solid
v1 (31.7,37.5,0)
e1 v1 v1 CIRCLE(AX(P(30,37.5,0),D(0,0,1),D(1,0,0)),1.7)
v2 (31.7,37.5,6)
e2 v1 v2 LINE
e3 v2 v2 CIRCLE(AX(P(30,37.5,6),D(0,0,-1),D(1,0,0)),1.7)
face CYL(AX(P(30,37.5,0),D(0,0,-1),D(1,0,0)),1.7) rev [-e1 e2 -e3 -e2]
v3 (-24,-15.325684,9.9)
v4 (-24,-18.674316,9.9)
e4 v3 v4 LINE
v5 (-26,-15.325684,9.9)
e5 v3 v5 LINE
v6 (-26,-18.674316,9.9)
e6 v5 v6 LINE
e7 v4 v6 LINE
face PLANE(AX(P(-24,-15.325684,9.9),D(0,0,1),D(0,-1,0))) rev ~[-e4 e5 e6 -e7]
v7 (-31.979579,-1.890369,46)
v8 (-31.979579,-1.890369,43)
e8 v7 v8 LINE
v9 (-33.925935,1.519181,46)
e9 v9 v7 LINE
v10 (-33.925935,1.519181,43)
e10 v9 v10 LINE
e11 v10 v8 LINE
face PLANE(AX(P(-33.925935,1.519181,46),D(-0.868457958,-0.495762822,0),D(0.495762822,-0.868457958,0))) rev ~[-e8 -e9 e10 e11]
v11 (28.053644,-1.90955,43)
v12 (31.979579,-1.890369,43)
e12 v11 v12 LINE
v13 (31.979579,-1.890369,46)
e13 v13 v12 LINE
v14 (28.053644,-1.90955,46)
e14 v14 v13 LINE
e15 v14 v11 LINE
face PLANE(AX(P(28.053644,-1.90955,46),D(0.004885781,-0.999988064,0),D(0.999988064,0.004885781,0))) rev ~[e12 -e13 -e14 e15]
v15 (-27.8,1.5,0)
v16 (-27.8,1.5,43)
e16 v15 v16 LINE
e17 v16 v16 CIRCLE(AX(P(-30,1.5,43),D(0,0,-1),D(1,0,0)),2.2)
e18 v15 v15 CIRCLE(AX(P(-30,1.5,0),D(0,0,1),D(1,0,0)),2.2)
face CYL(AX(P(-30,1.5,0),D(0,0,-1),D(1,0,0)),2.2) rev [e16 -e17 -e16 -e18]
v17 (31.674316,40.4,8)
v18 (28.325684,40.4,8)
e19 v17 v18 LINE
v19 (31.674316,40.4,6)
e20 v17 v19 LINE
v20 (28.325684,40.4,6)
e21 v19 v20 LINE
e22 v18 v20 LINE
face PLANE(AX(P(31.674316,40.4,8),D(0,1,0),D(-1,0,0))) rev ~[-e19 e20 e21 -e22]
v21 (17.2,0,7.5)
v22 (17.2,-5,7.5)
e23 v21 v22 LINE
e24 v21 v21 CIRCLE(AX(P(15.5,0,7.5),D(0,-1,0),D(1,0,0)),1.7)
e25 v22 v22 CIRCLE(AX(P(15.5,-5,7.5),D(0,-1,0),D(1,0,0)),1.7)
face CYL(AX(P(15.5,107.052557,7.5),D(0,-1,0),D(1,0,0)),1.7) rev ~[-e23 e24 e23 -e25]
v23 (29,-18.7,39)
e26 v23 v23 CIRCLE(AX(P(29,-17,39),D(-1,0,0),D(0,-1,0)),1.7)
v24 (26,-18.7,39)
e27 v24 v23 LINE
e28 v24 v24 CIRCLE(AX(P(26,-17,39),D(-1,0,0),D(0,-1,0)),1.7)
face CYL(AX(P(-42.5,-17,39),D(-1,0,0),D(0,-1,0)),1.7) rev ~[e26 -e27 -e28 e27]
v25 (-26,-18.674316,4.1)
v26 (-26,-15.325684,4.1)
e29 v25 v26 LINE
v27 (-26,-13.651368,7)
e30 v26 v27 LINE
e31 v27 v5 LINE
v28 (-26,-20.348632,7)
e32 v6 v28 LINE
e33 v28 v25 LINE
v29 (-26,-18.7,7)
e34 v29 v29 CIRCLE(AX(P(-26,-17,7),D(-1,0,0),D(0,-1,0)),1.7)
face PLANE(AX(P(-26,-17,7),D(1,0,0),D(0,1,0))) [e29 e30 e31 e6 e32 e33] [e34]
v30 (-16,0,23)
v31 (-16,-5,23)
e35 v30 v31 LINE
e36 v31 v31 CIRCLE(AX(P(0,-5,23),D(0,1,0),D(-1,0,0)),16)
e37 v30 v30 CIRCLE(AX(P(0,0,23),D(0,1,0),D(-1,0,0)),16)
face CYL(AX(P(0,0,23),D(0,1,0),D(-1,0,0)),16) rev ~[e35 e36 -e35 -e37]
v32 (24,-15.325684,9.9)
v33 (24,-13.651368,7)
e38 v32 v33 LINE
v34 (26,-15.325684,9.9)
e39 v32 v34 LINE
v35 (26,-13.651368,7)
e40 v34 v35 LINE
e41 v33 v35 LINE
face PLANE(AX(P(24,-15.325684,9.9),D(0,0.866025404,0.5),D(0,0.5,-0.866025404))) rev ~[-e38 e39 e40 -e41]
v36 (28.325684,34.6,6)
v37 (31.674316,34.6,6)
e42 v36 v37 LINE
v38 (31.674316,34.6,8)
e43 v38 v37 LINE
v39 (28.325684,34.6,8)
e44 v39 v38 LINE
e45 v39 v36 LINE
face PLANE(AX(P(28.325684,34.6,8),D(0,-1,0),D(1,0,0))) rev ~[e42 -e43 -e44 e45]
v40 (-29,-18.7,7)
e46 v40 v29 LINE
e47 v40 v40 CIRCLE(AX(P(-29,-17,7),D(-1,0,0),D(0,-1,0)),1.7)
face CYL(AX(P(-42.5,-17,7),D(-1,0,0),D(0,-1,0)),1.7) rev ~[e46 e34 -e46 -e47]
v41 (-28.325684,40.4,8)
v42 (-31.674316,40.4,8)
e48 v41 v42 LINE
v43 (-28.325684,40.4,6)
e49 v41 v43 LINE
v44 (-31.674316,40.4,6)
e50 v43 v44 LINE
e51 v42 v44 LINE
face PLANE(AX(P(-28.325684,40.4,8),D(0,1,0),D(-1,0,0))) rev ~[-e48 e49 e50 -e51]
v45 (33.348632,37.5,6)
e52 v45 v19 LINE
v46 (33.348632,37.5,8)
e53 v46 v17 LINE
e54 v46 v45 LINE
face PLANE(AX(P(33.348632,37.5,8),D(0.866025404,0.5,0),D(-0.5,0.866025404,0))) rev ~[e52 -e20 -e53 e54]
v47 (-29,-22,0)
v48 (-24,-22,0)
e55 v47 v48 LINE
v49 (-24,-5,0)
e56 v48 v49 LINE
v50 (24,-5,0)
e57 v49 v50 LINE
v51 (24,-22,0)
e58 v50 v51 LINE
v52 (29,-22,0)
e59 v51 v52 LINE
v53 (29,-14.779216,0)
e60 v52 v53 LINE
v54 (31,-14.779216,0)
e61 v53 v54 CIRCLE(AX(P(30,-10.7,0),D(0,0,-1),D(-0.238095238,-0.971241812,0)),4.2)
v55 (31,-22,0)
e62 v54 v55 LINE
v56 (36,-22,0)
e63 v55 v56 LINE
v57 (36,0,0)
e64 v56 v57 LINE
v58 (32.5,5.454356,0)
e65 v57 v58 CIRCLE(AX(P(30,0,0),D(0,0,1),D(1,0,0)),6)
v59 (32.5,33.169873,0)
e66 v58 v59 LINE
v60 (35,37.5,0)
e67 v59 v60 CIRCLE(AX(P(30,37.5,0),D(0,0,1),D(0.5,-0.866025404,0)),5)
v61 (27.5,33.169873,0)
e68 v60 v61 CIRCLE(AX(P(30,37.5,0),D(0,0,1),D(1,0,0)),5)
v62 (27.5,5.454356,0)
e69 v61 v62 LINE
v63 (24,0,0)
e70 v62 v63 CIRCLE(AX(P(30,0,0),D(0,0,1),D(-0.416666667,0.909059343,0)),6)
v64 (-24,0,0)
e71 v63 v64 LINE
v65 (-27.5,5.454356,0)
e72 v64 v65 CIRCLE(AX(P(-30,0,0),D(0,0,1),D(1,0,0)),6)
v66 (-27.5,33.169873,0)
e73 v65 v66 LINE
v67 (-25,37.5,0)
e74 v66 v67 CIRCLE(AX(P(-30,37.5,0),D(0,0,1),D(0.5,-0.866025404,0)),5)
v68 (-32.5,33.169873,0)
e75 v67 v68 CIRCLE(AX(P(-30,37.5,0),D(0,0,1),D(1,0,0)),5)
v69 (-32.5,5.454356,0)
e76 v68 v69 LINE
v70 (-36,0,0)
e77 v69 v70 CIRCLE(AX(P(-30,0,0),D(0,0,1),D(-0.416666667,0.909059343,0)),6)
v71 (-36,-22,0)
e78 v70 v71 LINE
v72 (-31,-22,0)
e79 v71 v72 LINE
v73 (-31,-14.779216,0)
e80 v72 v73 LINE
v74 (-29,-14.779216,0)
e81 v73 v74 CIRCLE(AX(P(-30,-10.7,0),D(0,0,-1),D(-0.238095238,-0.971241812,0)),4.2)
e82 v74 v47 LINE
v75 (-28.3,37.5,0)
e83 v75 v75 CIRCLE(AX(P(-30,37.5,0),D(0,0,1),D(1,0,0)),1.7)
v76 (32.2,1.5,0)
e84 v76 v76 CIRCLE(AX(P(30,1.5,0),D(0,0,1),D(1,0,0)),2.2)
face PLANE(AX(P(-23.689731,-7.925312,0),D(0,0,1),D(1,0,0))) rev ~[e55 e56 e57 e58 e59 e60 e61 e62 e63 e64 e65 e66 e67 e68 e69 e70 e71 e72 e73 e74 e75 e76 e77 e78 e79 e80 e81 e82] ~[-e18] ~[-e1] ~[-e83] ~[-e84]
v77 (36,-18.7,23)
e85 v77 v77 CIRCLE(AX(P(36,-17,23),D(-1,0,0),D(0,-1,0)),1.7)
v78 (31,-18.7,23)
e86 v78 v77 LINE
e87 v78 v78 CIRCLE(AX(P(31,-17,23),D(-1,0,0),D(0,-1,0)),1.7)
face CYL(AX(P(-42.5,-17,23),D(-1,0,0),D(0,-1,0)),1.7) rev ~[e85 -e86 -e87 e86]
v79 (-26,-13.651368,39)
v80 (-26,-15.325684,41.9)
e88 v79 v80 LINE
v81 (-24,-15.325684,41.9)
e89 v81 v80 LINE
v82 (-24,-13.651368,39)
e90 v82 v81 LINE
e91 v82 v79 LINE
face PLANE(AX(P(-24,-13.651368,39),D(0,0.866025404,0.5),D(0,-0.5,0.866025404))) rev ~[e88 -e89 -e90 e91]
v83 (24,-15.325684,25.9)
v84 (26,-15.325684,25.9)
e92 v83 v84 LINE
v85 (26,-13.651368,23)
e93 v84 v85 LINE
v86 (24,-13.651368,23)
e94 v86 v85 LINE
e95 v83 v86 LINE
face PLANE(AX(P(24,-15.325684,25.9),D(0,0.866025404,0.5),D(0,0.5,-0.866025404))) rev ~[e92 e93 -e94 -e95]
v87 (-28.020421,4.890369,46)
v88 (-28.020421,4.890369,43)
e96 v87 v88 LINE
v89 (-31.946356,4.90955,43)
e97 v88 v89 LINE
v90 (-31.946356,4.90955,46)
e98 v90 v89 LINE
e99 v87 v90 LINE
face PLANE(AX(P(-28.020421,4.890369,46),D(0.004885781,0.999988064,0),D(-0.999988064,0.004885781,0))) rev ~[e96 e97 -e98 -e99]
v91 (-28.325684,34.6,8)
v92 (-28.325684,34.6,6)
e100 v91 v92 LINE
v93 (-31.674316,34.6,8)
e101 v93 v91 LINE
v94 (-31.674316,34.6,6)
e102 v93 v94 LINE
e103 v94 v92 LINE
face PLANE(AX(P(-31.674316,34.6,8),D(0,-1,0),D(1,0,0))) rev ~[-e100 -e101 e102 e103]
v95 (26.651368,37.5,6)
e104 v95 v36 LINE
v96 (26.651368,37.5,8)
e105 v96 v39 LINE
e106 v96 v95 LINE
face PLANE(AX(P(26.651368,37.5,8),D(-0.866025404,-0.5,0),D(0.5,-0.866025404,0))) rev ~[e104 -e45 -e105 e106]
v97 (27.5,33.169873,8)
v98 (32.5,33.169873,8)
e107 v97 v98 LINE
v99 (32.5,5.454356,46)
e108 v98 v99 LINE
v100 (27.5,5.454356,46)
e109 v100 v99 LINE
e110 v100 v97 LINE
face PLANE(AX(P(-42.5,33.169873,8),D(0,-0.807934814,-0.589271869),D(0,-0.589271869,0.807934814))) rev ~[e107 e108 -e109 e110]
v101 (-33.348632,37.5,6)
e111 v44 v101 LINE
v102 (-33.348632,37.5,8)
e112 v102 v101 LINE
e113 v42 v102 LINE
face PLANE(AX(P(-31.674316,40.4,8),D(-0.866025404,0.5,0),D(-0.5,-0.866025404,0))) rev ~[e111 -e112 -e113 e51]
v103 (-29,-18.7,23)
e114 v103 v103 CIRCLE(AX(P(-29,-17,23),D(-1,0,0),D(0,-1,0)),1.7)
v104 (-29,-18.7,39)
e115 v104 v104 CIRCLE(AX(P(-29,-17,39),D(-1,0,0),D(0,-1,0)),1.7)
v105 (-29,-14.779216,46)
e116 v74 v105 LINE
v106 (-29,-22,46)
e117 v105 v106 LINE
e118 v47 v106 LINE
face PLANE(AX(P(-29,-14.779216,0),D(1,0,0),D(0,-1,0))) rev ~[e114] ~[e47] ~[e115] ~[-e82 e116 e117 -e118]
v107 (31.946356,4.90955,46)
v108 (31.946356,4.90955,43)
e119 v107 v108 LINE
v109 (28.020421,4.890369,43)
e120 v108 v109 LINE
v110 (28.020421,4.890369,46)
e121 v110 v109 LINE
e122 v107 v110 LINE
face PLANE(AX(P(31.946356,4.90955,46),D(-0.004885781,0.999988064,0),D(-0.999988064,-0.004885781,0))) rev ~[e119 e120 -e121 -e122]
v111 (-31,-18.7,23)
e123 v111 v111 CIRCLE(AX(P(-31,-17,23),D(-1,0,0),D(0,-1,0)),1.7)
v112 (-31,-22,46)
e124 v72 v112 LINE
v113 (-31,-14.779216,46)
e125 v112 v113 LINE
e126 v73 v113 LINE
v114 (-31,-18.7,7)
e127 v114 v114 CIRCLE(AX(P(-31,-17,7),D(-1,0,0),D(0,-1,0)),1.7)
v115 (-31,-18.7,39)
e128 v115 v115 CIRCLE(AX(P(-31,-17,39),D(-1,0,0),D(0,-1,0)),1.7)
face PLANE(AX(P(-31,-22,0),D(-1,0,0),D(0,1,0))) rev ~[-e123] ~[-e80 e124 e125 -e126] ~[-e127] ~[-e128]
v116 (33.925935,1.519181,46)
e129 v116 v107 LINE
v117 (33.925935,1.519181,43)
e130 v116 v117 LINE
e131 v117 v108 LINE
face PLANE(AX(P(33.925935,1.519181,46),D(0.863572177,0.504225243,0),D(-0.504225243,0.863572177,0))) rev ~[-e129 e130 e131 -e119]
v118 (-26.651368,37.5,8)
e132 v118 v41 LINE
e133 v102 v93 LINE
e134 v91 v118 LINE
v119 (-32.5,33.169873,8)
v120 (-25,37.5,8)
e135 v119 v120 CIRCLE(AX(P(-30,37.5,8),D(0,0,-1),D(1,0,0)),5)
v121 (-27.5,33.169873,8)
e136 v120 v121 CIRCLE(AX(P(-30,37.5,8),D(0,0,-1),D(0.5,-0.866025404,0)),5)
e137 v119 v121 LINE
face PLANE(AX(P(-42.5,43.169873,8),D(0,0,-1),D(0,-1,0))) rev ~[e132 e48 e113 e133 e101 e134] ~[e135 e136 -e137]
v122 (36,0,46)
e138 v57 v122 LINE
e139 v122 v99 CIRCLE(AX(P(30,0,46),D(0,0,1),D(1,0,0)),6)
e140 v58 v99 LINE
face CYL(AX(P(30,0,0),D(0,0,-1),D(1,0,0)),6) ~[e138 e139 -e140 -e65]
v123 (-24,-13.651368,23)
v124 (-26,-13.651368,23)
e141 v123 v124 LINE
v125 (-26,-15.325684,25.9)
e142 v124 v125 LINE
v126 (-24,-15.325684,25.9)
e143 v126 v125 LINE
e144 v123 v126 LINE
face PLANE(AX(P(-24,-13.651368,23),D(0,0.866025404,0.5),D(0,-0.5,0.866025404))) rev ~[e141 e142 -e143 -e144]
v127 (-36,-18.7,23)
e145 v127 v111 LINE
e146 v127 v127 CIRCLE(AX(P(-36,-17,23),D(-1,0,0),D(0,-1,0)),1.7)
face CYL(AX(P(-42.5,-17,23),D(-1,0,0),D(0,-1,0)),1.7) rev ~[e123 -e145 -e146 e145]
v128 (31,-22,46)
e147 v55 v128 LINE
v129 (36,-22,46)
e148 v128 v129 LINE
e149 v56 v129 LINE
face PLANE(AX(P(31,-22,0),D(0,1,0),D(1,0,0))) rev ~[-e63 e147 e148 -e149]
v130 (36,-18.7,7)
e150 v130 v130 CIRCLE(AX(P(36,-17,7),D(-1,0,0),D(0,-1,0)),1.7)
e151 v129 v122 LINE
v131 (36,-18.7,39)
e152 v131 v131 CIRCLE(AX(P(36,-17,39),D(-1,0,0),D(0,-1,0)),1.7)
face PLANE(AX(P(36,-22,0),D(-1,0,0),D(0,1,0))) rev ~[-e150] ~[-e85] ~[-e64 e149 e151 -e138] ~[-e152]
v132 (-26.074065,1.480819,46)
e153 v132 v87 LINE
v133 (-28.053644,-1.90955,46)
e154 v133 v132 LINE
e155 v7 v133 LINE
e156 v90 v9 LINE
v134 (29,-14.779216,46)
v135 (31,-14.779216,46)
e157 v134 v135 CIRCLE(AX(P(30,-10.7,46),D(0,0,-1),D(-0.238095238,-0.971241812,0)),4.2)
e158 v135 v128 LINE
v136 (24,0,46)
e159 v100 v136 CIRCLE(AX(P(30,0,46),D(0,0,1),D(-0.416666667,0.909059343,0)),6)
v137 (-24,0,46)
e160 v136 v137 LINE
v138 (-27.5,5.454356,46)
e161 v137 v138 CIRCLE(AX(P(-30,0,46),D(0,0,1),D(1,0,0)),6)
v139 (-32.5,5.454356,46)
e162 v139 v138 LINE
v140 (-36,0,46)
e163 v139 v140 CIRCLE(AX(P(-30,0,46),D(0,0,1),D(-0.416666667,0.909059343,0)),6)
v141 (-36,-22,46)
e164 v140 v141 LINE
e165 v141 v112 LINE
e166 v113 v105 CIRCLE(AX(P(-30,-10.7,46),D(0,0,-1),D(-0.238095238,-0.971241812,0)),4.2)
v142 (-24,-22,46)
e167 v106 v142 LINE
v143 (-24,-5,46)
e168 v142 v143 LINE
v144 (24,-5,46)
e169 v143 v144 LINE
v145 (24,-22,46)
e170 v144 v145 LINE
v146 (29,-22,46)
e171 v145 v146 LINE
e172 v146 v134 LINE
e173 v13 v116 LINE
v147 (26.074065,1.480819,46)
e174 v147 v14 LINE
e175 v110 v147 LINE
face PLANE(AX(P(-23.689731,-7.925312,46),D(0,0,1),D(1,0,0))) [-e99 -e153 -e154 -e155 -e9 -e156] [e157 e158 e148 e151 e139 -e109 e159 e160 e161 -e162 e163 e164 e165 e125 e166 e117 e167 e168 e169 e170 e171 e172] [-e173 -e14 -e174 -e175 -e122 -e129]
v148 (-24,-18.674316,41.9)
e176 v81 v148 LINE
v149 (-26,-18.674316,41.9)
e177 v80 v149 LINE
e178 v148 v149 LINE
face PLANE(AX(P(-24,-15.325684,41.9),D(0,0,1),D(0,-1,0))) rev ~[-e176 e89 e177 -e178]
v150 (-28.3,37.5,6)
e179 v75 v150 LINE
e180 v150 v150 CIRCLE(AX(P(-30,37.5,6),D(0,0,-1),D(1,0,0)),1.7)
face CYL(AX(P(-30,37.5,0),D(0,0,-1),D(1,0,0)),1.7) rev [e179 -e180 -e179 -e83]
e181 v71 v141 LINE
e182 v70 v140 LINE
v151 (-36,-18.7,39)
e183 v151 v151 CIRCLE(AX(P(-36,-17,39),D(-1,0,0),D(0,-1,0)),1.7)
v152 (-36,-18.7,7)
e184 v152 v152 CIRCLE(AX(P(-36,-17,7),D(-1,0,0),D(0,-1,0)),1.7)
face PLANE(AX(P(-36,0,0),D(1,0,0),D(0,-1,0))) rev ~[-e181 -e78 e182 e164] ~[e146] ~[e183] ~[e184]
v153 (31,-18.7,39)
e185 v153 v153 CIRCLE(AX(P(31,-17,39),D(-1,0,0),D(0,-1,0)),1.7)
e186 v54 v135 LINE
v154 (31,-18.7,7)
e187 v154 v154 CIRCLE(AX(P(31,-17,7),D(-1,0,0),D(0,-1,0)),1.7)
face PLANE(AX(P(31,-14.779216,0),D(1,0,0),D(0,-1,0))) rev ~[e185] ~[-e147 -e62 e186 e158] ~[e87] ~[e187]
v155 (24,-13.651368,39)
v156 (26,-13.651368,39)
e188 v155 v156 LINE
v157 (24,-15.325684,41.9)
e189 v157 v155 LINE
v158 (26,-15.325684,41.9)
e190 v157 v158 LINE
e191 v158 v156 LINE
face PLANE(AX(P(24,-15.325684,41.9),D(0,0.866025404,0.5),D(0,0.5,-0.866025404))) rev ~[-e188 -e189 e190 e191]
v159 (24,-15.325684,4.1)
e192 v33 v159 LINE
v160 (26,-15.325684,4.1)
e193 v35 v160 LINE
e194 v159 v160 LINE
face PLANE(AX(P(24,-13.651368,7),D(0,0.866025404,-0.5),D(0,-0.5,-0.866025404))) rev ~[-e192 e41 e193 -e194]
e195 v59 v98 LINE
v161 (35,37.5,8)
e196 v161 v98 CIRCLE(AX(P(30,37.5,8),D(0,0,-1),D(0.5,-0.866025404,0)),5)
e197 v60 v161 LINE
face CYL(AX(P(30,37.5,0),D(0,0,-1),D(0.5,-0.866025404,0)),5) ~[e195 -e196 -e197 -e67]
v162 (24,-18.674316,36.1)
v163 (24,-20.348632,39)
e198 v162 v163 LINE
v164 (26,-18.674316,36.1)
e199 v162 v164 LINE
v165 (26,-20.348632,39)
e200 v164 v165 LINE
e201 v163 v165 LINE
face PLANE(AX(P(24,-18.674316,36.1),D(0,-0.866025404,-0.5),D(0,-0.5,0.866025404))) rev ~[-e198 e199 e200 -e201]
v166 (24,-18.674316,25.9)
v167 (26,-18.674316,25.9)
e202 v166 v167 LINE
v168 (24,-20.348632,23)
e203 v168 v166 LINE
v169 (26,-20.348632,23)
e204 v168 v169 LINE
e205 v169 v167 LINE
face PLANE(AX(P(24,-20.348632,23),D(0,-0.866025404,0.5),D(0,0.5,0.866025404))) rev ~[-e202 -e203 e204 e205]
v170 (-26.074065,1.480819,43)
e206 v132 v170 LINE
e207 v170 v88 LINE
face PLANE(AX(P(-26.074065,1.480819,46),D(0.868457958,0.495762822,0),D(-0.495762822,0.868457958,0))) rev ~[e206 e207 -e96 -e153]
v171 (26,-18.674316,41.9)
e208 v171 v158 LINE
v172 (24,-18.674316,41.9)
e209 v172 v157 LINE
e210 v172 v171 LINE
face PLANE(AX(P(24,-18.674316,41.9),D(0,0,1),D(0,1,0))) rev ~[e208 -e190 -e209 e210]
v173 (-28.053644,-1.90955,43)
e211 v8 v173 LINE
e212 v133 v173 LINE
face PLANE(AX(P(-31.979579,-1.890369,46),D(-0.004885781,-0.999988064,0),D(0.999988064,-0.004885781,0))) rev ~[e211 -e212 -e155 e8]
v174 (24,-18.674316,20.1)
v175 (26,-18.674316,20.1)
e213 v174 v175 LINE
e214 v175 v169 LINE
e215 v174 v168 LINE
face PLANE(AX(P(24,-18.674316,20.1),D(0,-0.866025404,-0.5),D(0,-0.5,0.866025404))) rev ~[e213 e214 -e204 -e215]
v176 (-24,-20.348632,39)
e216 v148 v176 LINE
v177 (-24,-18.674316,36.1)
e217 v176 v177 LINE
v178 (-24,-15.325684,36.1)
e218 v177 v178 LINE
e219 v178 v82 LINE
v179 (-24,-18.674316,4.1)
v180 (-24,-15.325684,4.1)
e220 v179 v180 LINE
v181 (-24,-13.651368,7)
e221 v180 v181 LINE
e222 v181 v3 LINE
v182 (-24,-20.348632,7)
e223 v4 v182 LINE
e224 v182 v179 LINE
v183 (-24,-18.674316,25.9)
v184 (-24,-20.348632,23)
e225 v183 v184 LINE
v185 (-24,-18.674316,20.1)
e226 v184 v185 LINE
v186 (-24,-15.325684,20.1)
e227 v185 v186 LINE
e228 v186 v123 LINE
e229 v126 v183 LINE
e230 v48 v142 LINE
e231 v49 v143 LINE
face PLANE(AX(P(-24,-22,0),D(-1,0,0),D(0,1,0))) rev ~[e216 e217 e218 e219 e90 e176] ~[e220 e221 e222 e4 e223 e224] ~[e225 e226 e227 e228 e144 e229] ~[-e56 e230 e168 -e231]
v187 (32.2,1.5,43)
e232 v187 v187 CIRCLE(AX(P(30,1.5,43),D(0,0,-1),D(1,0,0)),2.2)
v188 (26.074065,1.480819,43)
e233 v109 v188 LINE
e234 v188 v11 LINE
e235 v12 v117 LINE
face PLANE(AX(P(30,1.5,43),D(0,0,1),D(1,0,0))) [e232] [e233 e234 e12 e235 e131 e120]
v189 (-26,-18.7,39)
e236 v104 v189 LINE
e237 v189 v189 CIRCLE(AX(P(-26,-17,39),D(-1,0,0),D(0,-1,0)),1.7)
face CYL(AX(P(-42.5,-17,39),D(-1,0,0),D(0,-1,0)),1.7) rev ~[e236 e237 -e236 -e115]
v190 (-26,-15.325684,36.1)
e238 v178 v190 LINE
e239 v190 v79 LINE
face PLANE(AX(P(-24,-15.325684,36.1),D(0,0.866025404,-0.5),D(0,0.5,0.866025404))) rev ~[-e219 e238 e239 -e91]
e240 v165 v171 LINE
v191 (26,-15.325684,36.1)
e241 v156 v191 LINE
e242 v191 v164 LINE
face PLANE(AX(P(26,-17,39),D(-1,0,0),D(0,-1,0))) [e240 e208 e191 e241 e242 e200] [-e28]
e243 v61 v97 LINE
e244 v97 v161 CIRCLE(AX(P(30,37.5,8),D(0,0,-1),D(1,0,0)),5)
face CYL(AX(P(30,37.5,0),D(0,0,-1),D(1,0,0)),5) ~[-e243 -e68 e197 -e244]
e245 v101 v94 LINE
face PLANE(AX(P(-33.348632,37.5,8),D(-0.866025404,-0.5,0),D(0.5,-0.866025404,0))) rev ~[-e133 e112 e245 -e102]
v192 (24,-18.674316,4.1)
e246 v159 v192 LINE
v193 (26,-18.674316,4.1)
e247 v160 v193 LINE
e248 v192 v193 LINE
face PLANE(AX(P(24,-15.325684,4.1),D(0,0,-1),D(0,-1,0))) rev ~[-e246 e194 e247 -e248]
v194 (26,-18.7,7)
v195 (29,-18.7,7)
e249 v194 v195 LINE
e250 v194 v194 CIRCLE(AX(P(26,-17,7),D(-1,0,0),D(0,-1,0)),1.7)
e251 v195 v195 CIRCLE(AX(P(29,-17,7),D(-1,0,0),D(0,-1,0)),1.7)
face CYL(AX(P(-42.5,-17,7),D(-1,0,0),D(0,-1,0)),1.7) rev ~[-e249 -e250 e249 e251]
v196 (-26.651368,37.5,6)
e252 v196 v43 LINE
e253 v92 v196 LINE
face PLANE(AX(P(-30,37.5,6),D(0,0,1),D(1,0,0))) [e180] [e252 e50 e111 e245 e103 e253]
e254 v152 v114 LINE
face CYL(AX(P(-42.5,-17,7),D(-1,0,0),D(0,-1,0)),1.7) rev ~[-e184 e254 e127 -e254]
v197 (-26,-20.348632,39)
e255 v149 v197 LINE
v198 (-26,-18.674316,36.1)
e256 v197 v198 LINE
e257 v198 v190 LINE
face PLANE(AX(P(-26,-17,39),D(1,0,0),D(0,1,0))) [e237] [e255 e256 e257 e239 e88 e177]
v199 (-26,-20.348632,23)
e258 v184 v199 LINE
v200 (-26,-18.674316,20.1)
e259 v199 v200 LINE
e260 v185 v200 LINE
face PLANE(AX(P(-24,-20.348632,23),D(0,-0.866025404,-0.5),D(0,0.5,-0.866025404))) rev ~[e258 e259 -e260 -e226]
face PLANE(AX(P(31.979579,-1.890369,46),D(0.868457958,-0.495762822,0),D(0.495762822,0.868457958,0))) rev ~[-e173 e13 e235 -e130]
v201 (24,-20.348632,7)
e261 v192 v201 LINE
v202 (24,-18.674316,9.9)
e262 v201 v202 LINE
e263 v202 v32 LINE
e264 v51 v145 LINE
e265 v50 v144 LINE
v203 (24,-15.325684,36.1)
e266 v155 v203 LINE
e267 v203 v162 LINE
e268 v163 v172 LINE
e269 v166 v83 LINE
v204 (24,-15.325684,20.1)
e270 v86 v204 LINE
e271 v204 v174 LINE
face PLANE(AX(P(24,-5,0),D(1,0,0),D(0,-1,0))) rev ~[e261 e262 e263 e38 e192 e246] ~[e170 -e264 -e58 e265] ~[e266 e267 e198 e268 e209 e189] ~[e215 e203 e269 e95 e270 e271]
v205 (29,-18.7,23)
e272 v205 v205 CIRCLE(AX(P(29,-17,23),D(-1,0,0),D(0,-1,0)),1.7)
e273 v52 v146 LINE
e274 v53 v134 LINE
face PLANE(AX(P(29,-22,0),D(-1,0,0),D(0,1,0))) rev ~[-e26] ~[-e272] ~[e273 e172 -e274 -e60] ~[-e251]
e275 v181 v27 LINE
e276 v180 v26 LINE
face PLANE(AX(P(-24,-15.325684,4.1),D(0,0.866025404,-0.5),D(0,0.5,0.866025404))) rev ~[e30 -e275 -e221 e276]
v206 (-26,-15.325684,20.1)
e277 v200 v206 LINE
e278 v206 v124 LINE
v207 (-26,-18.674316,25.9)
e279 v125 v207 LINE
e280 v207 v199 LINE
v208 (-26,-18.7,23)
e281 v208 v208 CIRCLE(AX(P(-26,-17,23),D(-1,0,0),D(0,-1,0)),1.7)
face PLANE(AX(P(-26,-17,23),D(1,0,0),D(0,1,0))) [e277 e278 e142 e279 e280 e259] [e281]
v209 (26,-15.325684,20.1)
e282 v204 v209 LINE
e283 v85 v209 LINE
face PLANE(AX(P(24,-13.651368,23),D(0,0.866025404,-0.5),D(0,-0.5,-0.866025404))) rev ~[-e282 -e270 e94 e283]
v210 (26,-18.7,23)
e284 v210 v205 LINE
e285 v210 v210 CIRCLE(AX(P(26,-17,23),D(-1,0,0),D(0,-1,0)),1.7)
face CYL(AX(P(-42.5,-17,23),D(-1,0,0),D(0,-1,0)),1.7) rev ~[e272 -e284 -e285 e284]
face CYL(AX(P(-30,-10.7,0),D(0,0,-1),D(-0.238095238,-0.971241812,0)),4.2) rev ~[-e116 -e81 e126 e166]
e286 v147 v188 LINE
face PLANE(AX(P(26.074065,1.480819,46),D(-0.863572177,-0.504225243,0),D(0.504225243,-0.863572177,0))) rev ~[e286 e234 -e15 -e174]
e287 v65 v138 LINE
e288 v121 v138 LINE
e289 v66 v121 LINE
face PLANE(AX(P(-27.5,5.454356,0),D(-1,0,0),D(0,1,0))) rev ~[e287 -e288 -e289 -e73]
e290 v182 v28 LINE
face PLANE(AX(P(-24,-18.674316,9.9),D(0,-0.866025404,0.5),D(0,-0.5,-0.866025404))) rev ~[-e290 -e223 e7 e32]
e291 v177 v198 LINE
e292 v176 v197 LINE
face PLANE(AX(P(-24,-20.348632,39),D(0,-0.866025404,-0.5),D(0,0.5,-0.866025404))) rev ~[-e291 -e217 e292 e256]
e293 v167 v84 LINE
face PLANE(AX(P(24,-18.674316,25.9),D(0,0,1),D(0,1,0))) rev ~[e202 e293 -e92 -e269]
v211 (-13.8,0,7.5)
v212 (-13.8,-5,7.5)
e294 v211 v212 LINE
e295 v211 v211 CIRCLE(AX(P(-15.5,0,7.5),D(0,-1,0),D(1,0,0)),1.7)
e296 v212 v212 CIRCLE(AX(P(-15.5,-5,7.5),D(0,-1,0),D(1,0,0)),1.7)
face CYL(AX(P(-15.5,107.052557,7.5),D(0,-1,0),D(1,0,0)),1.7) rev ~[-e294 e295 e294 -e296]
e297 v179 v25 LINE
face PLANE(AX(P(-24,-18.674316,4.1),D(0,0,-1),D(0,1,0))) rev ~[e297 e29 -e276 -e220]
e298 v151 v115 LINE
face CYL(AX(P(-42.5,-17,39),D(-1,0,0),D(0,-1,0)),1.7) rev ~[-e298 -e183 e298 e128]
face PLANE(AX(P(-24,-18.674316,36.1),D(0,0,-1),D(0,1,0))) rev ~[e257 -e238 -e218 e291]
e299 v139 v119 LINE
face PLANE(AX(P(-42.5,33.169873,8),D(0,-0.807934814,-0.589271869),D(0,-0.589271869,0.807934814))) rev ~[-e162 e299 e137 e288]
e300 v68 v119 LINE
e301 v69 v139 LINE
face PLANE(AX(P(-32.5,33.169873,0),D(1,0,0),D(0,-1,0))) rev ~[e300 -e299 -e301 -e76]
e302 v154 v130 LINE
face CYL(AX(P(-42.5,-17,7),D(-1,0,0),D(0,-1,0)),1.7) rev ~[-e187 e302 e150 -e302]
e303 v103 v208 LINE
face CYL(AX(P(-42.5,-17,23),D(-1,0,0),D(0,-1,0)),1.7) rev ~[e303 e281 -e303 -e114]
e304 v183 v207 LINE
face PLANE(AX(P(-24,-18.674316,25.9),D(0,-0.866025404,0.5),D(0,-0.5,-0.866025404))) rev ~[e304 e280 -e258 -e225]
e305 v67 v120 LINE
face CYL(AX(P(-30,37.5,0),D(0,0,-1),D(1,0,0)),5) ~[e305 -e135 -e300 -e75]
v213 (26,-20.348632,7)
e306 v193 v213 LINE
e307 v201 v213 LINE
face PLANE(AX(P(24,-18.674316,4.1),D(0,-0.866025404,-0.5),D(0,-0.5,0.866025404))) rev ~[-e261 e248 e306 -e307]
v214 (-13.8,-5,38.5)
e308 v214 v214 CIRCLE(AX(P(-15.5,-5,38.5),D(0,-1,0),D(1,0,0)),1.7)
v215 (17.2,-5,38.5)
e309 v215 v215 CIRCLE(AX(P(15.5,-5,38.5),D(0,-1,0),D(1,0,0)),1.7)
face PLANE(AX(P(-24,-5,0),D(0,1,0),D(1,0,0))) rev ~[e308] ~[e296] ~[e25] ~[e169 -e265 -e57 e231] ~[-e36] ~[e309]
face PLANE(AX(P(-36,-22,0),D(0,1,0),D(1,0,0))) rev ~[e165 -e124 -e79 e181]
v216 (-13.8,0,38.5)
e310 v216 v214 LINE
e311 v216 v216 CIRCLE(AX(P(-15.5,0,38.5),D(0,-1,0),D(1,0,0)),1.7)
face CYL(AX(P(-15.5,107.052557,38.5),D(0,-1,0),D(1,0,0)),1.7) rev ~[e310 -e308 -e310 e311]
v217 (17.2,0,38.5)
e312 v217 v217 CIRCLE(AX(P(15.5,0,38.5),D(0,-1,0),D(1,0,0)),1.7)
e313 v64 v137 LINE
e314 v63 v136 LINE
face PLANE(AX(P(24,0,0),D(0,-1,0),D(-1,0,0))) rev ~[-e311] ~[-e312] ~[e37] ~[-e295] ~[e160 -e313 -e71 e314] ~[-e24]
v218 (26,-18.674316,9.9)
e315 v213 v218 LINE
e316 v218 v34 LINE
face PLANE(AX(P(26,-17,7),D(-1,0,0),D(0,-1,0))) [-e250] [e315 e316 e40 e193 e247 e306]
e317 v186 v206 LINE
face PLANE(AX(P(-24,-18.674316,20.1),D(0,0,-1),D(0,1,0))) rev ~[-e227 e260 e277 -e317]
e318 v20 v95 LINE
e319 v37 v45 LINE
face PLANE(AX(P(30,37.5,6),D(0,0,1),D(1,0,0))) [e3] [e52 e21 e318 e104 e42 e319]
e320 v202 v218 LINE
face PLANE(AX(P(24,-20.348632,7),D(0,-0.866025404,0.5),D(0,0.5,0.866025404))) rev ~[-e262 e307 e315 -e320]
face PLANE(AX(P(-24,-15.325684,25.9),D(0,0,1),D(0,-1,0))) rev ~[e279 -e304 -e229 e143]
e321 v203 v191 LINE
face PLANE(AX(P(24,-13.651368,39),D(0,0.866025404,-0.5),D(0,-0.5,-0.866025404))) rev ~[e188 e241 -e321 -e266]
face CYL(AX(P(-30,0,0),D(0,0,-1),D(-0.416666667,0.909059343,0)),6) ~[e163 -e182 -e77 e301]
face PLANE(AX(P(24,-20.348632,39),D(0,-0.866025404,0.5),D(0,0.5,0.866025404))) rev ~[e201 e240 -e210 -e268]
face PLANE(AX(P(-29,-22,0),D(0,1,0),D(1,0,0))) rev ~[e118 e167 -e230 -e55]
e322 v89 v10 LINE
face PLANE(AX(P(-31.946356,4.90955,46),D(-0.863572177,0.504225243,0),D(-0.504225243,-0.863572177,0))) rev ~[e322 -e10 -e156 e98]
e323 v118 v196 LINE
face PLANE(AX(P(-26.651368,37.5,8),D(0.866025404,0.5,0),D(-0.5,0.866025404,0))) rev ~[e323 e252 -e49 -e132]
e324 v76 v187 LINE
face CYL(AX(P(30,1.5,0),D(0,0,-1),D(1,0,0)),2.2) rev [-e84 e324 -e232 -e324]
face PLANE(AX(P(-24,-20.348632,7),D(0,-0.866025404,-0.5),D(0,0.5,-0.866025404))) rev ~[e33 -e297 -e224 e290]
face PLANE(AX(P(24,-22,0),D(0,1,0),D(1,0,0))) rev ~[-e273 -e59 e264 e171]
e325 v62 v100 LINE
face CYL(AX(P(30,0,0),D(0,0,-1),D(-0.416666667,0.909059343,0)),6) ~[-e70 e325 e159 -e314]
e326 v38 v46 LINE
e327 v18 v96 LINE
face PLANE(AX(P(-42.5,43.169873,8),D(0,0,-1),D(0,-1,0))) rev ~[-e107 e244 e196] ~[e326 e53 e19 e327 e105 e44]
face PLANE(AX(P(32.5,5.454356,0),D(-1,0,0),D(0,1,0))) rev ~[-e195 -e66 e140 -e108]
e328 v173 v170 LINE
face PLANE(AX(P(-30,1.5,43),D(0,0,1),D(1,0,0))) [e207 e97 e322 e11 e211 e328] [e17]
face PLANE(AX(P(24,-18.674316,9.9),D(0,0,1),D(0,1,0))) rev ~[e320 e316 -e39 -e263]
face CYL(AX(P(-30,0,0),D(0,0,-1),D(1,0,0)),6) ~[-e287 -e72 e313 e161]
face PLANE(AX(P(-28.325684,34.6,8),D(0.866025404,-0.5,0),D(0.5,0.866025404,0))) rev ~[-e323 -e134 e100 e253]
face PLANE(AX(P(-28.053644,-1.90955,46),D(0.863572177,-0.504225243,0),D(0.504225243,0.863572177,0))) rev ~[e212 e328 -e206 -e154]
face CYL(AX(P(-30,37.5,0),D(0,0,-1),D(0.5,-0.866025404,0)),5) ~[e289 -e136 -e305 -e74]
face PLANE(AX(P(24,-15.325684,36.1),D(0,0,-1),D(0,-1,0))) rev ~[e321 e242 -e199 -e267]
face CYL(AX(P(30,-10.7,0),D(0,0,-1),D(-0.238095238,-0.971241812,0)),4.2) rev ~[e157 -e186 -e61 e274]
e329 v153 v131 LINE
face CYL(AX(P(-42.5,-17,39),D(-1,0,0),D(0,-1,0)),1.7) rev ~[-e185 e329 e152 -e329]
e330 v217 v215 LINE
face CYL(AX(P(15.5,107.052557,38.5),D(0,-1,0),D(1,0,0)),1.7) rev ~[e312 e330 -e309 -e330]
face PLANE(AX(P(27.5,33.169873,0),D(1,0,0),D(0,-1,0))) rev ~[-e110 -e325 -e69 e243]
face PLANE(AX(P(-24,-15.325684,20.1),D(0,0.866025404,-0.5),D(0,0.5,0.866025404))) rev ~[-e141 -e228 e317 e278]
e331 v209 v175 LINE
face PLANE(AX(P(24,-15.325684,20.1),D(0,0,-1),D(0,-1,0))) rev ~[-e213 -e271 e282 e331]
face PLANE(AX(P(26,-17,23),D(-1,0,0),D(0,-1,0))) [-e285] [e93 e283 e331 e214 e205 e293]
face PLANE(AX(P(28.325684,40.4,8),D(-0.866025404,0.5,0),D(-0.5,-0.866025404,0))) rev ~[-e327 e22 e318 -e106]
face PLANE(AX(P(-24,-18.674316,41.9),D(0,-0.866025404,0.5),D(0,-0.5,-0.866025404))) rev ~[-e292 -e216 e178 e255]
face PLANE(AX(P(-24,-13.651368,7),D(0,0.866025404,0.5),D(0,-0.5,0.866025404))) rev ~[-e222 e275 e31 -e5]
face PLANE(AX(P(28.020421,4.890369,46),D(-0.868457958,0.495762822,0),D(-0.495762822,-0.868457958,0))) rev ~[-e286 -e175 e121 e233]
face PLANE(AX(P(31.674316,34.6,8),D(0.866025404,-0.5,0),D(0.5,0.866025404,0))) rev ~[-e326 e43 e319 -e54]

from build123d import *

# Parameters (mm, degrees)
F0_R      = 2.2
F0_R_2    = 1.7
F1_DEPTH  = 46
F3_DEPTH  = 3
F5_R      = 1.7
F6_DEPTH  = 78.501
F8_DEPTH  = 2
F10_DEPTH = 2
F12_DEPTH = 2
F13_R     = 16
F14_DEPTH = 5
F15_D     = 3.4


with BuildPart() as f1:
    # F0 (on Top) → F1 (new body)
    with BuildSketch(Plane.XY):
        with BuildLine():
            ThreePointArc((-31, -14.7792156109), (-30, -6.5), (-29, -14.7792156109))
            Line((-29, -14.7792156109), (-29, -22))
            Line((-29, -22), (-24, -22))
            Line((-24, -22), (-24, -5))
            Line((-24, -5), (0, -5))
            Line((0, -5), (0, 0))
            Line((0, 0), (-24, 0))
            ThreePointArc((-24, 0), (-24.9502475308, 3.2403703492), (-27.5, 5.4543560573))
            ThreePointArc((-27.5, 5.4543560573), (-30, 6), (-32.5, 5.4543560573))
            ThreePointArc((-32.5, 5.4543560573), (-35.0497524692, 3.2403703492), (-36, 0))
            Line((-36, 0), (-36, -22))
            Line((-36, -22), (-31, -22))
            Line((-31, -22), (-31, -14.7792156109))
        make_face()
        with Locations((-30, 1.5)):
            Circle(F0_R, mode=Mode.SUBTRACT)
        with BuildLine():
            Line((0, 0), (0, -5))
            Line((0, -5), (24, -5))
            Line((24, -5), (24, -22))
            Line((24, -22), (29, -22))
            Line((29, -22), (29, -14.7792156109))
            ThreePointArc((29, -14.7792156109), (30, -6.5), (31, -14.7792156109))
            Line((31, -14.7792156109), (31, -22))
            Line((31, -22), (36, -22))
            Line((36, -22), (36, 0))
            ThreePointArc((36, 0), (35.0497524692, 3.2403703492), (32.5, 5.4543560573))
            ThreePointArc((32.5, 5.4543560573), (30, 6), (27.5, 5.4543560573))
            ThreePointArc((27.5, 5.4543560573), (24.9502475308, 3.2403703492), (24, 0))
            Line((24, 0), (0, 0))
        make_face()
        with Locations((30, 1.5)):
            Circle(F0_R, mode=Mode.SUBTRACT)
        with BuildLine():
            Line((-32.5, 33.1698729811), (-32.5, 5.4543560573))
            ThreePointArc((-32.5, 5.4543560573), (-30, 6), (-27.5, 5.4543560573))
            Line((-27.5, 5.4543560573), (-27.5, 33.1698729811))
            ThreePointArc((-27.5, 33.1698729811), (-30, 32.5), (-32.5, 33.1698729811))
        make_face()
        with BuildLine():
            ThreePointArc((-25, 37.5), (-32.5, 41.8301270189), (-32.5, 33.1698729811))
            Line((-32.5, 33.1698729811), (-27.5, 33.1698729811))
            ThreePointArc((-27.5, 33.1698729811), (-25.6698729811, 35), (-25, 37.5))
        make_face()
        with Locations((-30, 37.5)):
            Circle(F0_R_2, mode=Mode.SUBTRACT)
        with BuildLine():
            Line((-27.5, 33.1698729811), (-32.5, 33.1698729811))
            ThreePointArc((-32.5, 33.1698729811), (-30, 32.5), (-27.5, 33.1698729811))
        make_face()
        with BuildLine():
            Line((27.5, 33.1698729811), (27.5, 5.4543560573))
            ThreePointArc((27.5, 5.4543560573), (30, 6), (32.5, 5.4543560573))
            Line((32.5, 5.4543560573), (32.5, 33.1698729811))
            ThreePointArc((32.5, 33.1698729811), (30, 32.5), (27.5, 33.1698729811))
        make_face()
        with BuildLine():
            ThreePointArc((35, 37.5), (27.5, 41.8301270189), (27.5, 33.1698729811))
            ThreePointArc((27.5, 33.1698729811), (30, 32.5), (32.5, 33.1698729811))
            ThreePointArc((32.5, 33.1698729811), (34.3301270189, 35), (35, 37.5))
        make_face()
        with Locations((30, 37.5)):
            Circle(F0_R_2, mode=Mode.SUBTRACT)
    extrude(amount=F1_DEPTH)

    # F2 (on face) → F3 (cut)
    with BuildSketch(Plane.XY.offset(46)):
        Polygon((-28.0536441704, -1.9095501636), (-26.0740650281, 1.4808185114), (-28.0204208576, 4.890368675), (-31.9463558296, 4.9095501636), (-33.9259349719, 1.5191814886), (-31.9795791424, -1.890368675), align=None)
        Polygon((33.9259349719, 1.5191814886), (31.9463558296, 4.9095501636), (28.0204208576, 4.890368675), (26.0740650281, 1.4808185114), (28.0536441704, -1.9095501636), (31.9795791424, -1.890368675), align=None)
    extrude(amount=-F3_DEPTH, mode=Mode.SUBTRACT)

    # F5 (on offset) → F6 (cut, through all)
    with BuildSketch(Plane(origin=(-42.5, 0, 0), x_dir=(0, -1, 0), z_dir=(-1, 0, 0))):
        Polygon((-43.1698729811, 46), (-43.1698729811, 8), (-33.1698729811, 8), (-5.4543560573, 46), align=None)
        with Locations((17, 39)):
            Circle(F5_R)
        with Locations((17, 23)):
            Circle(F5_R)
        with Locations((17, 7)):
            Circle(F5_R)
    extrude(amount=-F6_DEPTH, mode=Mode.SUBTRACT)

    # F7 (on face) → F8 (cut)
    with BuildSketch(Plane.XY.offset(8)):
        Polygon((-28.3256842194, 34.6), (-26.6513684387, 37.5), (-28.3256842194, 40.4), (-31.6743157806, 40.4), (-33.3486315613, 37.5), (-31.6743157806, 34.6), align=None)
        Polygon((28.3256842194, 40.4), (26.6513684387, 37.5), (28.3256842194, 34.6), (31.6743157806, 34.6), (33.3486315613, 37.5), (31.6743157806, 40.4), align=None)
    extrude(amount=-F8_DEPTH, mode=Mode.SUBTRACT)

    # F9 (on face) → F10 (cut)
    with BuildSketch(Plane(origin=(24, 0, 0), x_dir=(0, -1, 0), z_dir=(-1, 0, 0))):
        Polygon((15.3256842194, 36.1), (18.6743157806, 36.1), (20.3486315613, 39), (18.6743157806, 41.9), (15.3256842194, 41.9), (13.6513684387, 39), align=None)
        Polygon((15.3256842194, 20.1), (18.6743157806, 20.1), (20.3486315613, 23), (18.6743157806, 25.9), (15.3256842194, 25.9), (13.6513684387, 23), align=None)
        Polygon((15.3256842194, 4.1), (18.6743157806, 4.1), (20.3486315613, 7), (18.6743157806, 9.9), (15.3256842194, 9.9), (13.6513684387, 7), align=None)
    extrude(amount=-F10_DEPTH, mode=Mode.SUBTRACT)

    # F11 (on face) → F12 (cut)
    with BuildSketch(Plane.YZ.offset(-24)):
        Polygon((-18.6743157806, 36.1), (-15.3256842194, 36.1), (-13.6513684387, 39), (-15.3256842194, 41.9), (-18.6743157806, 41.9), (-20.3486315613, 39), align=None)
        Polygon((-18.6743157806, 20.1), (-15.3256842194, 20.1), (-13.6513684387, 23), (-15.3256842194, 25.9), (-18.6743157806, 25.9), (-20.3486315613, 23), align=None)
        Polygon((-18.6743157806, 4.1), (-15.3256842194, 4.1), (-13.6513684387, 7), (-15.3256842194, 9.9), (-18.6743157806, 9.9), (-20.3486315613, 7), align=None)
    extrude(amount=-F12_DEPTH, mode=Mode.SUBTRACT)

    # F13 (on face) → F14 (cut, through all)
    with BuildSketch(Plane(origin=(0, 0, 0), x_dir=(-1, 0, 0), z_dir=(0, 1, 0))):
        with Locations((0, 23)):
            Circle(F13_R)
    extrude(amount=-F14_DEPTH, mode=Mode.SUBTRACT)

    # F15 (through all)
    with Locations(Plane(origin=(0, 0, 0), x_dir=(-1, 0, 0), z_dir=(0, 1, 0))):
        with Locations((-15.5, 38.5), (15.5, 38.5), (15.5, 7.5), (-15.5, 7.5)):
            Hole(F15_D / 2)


solid = f1.part
